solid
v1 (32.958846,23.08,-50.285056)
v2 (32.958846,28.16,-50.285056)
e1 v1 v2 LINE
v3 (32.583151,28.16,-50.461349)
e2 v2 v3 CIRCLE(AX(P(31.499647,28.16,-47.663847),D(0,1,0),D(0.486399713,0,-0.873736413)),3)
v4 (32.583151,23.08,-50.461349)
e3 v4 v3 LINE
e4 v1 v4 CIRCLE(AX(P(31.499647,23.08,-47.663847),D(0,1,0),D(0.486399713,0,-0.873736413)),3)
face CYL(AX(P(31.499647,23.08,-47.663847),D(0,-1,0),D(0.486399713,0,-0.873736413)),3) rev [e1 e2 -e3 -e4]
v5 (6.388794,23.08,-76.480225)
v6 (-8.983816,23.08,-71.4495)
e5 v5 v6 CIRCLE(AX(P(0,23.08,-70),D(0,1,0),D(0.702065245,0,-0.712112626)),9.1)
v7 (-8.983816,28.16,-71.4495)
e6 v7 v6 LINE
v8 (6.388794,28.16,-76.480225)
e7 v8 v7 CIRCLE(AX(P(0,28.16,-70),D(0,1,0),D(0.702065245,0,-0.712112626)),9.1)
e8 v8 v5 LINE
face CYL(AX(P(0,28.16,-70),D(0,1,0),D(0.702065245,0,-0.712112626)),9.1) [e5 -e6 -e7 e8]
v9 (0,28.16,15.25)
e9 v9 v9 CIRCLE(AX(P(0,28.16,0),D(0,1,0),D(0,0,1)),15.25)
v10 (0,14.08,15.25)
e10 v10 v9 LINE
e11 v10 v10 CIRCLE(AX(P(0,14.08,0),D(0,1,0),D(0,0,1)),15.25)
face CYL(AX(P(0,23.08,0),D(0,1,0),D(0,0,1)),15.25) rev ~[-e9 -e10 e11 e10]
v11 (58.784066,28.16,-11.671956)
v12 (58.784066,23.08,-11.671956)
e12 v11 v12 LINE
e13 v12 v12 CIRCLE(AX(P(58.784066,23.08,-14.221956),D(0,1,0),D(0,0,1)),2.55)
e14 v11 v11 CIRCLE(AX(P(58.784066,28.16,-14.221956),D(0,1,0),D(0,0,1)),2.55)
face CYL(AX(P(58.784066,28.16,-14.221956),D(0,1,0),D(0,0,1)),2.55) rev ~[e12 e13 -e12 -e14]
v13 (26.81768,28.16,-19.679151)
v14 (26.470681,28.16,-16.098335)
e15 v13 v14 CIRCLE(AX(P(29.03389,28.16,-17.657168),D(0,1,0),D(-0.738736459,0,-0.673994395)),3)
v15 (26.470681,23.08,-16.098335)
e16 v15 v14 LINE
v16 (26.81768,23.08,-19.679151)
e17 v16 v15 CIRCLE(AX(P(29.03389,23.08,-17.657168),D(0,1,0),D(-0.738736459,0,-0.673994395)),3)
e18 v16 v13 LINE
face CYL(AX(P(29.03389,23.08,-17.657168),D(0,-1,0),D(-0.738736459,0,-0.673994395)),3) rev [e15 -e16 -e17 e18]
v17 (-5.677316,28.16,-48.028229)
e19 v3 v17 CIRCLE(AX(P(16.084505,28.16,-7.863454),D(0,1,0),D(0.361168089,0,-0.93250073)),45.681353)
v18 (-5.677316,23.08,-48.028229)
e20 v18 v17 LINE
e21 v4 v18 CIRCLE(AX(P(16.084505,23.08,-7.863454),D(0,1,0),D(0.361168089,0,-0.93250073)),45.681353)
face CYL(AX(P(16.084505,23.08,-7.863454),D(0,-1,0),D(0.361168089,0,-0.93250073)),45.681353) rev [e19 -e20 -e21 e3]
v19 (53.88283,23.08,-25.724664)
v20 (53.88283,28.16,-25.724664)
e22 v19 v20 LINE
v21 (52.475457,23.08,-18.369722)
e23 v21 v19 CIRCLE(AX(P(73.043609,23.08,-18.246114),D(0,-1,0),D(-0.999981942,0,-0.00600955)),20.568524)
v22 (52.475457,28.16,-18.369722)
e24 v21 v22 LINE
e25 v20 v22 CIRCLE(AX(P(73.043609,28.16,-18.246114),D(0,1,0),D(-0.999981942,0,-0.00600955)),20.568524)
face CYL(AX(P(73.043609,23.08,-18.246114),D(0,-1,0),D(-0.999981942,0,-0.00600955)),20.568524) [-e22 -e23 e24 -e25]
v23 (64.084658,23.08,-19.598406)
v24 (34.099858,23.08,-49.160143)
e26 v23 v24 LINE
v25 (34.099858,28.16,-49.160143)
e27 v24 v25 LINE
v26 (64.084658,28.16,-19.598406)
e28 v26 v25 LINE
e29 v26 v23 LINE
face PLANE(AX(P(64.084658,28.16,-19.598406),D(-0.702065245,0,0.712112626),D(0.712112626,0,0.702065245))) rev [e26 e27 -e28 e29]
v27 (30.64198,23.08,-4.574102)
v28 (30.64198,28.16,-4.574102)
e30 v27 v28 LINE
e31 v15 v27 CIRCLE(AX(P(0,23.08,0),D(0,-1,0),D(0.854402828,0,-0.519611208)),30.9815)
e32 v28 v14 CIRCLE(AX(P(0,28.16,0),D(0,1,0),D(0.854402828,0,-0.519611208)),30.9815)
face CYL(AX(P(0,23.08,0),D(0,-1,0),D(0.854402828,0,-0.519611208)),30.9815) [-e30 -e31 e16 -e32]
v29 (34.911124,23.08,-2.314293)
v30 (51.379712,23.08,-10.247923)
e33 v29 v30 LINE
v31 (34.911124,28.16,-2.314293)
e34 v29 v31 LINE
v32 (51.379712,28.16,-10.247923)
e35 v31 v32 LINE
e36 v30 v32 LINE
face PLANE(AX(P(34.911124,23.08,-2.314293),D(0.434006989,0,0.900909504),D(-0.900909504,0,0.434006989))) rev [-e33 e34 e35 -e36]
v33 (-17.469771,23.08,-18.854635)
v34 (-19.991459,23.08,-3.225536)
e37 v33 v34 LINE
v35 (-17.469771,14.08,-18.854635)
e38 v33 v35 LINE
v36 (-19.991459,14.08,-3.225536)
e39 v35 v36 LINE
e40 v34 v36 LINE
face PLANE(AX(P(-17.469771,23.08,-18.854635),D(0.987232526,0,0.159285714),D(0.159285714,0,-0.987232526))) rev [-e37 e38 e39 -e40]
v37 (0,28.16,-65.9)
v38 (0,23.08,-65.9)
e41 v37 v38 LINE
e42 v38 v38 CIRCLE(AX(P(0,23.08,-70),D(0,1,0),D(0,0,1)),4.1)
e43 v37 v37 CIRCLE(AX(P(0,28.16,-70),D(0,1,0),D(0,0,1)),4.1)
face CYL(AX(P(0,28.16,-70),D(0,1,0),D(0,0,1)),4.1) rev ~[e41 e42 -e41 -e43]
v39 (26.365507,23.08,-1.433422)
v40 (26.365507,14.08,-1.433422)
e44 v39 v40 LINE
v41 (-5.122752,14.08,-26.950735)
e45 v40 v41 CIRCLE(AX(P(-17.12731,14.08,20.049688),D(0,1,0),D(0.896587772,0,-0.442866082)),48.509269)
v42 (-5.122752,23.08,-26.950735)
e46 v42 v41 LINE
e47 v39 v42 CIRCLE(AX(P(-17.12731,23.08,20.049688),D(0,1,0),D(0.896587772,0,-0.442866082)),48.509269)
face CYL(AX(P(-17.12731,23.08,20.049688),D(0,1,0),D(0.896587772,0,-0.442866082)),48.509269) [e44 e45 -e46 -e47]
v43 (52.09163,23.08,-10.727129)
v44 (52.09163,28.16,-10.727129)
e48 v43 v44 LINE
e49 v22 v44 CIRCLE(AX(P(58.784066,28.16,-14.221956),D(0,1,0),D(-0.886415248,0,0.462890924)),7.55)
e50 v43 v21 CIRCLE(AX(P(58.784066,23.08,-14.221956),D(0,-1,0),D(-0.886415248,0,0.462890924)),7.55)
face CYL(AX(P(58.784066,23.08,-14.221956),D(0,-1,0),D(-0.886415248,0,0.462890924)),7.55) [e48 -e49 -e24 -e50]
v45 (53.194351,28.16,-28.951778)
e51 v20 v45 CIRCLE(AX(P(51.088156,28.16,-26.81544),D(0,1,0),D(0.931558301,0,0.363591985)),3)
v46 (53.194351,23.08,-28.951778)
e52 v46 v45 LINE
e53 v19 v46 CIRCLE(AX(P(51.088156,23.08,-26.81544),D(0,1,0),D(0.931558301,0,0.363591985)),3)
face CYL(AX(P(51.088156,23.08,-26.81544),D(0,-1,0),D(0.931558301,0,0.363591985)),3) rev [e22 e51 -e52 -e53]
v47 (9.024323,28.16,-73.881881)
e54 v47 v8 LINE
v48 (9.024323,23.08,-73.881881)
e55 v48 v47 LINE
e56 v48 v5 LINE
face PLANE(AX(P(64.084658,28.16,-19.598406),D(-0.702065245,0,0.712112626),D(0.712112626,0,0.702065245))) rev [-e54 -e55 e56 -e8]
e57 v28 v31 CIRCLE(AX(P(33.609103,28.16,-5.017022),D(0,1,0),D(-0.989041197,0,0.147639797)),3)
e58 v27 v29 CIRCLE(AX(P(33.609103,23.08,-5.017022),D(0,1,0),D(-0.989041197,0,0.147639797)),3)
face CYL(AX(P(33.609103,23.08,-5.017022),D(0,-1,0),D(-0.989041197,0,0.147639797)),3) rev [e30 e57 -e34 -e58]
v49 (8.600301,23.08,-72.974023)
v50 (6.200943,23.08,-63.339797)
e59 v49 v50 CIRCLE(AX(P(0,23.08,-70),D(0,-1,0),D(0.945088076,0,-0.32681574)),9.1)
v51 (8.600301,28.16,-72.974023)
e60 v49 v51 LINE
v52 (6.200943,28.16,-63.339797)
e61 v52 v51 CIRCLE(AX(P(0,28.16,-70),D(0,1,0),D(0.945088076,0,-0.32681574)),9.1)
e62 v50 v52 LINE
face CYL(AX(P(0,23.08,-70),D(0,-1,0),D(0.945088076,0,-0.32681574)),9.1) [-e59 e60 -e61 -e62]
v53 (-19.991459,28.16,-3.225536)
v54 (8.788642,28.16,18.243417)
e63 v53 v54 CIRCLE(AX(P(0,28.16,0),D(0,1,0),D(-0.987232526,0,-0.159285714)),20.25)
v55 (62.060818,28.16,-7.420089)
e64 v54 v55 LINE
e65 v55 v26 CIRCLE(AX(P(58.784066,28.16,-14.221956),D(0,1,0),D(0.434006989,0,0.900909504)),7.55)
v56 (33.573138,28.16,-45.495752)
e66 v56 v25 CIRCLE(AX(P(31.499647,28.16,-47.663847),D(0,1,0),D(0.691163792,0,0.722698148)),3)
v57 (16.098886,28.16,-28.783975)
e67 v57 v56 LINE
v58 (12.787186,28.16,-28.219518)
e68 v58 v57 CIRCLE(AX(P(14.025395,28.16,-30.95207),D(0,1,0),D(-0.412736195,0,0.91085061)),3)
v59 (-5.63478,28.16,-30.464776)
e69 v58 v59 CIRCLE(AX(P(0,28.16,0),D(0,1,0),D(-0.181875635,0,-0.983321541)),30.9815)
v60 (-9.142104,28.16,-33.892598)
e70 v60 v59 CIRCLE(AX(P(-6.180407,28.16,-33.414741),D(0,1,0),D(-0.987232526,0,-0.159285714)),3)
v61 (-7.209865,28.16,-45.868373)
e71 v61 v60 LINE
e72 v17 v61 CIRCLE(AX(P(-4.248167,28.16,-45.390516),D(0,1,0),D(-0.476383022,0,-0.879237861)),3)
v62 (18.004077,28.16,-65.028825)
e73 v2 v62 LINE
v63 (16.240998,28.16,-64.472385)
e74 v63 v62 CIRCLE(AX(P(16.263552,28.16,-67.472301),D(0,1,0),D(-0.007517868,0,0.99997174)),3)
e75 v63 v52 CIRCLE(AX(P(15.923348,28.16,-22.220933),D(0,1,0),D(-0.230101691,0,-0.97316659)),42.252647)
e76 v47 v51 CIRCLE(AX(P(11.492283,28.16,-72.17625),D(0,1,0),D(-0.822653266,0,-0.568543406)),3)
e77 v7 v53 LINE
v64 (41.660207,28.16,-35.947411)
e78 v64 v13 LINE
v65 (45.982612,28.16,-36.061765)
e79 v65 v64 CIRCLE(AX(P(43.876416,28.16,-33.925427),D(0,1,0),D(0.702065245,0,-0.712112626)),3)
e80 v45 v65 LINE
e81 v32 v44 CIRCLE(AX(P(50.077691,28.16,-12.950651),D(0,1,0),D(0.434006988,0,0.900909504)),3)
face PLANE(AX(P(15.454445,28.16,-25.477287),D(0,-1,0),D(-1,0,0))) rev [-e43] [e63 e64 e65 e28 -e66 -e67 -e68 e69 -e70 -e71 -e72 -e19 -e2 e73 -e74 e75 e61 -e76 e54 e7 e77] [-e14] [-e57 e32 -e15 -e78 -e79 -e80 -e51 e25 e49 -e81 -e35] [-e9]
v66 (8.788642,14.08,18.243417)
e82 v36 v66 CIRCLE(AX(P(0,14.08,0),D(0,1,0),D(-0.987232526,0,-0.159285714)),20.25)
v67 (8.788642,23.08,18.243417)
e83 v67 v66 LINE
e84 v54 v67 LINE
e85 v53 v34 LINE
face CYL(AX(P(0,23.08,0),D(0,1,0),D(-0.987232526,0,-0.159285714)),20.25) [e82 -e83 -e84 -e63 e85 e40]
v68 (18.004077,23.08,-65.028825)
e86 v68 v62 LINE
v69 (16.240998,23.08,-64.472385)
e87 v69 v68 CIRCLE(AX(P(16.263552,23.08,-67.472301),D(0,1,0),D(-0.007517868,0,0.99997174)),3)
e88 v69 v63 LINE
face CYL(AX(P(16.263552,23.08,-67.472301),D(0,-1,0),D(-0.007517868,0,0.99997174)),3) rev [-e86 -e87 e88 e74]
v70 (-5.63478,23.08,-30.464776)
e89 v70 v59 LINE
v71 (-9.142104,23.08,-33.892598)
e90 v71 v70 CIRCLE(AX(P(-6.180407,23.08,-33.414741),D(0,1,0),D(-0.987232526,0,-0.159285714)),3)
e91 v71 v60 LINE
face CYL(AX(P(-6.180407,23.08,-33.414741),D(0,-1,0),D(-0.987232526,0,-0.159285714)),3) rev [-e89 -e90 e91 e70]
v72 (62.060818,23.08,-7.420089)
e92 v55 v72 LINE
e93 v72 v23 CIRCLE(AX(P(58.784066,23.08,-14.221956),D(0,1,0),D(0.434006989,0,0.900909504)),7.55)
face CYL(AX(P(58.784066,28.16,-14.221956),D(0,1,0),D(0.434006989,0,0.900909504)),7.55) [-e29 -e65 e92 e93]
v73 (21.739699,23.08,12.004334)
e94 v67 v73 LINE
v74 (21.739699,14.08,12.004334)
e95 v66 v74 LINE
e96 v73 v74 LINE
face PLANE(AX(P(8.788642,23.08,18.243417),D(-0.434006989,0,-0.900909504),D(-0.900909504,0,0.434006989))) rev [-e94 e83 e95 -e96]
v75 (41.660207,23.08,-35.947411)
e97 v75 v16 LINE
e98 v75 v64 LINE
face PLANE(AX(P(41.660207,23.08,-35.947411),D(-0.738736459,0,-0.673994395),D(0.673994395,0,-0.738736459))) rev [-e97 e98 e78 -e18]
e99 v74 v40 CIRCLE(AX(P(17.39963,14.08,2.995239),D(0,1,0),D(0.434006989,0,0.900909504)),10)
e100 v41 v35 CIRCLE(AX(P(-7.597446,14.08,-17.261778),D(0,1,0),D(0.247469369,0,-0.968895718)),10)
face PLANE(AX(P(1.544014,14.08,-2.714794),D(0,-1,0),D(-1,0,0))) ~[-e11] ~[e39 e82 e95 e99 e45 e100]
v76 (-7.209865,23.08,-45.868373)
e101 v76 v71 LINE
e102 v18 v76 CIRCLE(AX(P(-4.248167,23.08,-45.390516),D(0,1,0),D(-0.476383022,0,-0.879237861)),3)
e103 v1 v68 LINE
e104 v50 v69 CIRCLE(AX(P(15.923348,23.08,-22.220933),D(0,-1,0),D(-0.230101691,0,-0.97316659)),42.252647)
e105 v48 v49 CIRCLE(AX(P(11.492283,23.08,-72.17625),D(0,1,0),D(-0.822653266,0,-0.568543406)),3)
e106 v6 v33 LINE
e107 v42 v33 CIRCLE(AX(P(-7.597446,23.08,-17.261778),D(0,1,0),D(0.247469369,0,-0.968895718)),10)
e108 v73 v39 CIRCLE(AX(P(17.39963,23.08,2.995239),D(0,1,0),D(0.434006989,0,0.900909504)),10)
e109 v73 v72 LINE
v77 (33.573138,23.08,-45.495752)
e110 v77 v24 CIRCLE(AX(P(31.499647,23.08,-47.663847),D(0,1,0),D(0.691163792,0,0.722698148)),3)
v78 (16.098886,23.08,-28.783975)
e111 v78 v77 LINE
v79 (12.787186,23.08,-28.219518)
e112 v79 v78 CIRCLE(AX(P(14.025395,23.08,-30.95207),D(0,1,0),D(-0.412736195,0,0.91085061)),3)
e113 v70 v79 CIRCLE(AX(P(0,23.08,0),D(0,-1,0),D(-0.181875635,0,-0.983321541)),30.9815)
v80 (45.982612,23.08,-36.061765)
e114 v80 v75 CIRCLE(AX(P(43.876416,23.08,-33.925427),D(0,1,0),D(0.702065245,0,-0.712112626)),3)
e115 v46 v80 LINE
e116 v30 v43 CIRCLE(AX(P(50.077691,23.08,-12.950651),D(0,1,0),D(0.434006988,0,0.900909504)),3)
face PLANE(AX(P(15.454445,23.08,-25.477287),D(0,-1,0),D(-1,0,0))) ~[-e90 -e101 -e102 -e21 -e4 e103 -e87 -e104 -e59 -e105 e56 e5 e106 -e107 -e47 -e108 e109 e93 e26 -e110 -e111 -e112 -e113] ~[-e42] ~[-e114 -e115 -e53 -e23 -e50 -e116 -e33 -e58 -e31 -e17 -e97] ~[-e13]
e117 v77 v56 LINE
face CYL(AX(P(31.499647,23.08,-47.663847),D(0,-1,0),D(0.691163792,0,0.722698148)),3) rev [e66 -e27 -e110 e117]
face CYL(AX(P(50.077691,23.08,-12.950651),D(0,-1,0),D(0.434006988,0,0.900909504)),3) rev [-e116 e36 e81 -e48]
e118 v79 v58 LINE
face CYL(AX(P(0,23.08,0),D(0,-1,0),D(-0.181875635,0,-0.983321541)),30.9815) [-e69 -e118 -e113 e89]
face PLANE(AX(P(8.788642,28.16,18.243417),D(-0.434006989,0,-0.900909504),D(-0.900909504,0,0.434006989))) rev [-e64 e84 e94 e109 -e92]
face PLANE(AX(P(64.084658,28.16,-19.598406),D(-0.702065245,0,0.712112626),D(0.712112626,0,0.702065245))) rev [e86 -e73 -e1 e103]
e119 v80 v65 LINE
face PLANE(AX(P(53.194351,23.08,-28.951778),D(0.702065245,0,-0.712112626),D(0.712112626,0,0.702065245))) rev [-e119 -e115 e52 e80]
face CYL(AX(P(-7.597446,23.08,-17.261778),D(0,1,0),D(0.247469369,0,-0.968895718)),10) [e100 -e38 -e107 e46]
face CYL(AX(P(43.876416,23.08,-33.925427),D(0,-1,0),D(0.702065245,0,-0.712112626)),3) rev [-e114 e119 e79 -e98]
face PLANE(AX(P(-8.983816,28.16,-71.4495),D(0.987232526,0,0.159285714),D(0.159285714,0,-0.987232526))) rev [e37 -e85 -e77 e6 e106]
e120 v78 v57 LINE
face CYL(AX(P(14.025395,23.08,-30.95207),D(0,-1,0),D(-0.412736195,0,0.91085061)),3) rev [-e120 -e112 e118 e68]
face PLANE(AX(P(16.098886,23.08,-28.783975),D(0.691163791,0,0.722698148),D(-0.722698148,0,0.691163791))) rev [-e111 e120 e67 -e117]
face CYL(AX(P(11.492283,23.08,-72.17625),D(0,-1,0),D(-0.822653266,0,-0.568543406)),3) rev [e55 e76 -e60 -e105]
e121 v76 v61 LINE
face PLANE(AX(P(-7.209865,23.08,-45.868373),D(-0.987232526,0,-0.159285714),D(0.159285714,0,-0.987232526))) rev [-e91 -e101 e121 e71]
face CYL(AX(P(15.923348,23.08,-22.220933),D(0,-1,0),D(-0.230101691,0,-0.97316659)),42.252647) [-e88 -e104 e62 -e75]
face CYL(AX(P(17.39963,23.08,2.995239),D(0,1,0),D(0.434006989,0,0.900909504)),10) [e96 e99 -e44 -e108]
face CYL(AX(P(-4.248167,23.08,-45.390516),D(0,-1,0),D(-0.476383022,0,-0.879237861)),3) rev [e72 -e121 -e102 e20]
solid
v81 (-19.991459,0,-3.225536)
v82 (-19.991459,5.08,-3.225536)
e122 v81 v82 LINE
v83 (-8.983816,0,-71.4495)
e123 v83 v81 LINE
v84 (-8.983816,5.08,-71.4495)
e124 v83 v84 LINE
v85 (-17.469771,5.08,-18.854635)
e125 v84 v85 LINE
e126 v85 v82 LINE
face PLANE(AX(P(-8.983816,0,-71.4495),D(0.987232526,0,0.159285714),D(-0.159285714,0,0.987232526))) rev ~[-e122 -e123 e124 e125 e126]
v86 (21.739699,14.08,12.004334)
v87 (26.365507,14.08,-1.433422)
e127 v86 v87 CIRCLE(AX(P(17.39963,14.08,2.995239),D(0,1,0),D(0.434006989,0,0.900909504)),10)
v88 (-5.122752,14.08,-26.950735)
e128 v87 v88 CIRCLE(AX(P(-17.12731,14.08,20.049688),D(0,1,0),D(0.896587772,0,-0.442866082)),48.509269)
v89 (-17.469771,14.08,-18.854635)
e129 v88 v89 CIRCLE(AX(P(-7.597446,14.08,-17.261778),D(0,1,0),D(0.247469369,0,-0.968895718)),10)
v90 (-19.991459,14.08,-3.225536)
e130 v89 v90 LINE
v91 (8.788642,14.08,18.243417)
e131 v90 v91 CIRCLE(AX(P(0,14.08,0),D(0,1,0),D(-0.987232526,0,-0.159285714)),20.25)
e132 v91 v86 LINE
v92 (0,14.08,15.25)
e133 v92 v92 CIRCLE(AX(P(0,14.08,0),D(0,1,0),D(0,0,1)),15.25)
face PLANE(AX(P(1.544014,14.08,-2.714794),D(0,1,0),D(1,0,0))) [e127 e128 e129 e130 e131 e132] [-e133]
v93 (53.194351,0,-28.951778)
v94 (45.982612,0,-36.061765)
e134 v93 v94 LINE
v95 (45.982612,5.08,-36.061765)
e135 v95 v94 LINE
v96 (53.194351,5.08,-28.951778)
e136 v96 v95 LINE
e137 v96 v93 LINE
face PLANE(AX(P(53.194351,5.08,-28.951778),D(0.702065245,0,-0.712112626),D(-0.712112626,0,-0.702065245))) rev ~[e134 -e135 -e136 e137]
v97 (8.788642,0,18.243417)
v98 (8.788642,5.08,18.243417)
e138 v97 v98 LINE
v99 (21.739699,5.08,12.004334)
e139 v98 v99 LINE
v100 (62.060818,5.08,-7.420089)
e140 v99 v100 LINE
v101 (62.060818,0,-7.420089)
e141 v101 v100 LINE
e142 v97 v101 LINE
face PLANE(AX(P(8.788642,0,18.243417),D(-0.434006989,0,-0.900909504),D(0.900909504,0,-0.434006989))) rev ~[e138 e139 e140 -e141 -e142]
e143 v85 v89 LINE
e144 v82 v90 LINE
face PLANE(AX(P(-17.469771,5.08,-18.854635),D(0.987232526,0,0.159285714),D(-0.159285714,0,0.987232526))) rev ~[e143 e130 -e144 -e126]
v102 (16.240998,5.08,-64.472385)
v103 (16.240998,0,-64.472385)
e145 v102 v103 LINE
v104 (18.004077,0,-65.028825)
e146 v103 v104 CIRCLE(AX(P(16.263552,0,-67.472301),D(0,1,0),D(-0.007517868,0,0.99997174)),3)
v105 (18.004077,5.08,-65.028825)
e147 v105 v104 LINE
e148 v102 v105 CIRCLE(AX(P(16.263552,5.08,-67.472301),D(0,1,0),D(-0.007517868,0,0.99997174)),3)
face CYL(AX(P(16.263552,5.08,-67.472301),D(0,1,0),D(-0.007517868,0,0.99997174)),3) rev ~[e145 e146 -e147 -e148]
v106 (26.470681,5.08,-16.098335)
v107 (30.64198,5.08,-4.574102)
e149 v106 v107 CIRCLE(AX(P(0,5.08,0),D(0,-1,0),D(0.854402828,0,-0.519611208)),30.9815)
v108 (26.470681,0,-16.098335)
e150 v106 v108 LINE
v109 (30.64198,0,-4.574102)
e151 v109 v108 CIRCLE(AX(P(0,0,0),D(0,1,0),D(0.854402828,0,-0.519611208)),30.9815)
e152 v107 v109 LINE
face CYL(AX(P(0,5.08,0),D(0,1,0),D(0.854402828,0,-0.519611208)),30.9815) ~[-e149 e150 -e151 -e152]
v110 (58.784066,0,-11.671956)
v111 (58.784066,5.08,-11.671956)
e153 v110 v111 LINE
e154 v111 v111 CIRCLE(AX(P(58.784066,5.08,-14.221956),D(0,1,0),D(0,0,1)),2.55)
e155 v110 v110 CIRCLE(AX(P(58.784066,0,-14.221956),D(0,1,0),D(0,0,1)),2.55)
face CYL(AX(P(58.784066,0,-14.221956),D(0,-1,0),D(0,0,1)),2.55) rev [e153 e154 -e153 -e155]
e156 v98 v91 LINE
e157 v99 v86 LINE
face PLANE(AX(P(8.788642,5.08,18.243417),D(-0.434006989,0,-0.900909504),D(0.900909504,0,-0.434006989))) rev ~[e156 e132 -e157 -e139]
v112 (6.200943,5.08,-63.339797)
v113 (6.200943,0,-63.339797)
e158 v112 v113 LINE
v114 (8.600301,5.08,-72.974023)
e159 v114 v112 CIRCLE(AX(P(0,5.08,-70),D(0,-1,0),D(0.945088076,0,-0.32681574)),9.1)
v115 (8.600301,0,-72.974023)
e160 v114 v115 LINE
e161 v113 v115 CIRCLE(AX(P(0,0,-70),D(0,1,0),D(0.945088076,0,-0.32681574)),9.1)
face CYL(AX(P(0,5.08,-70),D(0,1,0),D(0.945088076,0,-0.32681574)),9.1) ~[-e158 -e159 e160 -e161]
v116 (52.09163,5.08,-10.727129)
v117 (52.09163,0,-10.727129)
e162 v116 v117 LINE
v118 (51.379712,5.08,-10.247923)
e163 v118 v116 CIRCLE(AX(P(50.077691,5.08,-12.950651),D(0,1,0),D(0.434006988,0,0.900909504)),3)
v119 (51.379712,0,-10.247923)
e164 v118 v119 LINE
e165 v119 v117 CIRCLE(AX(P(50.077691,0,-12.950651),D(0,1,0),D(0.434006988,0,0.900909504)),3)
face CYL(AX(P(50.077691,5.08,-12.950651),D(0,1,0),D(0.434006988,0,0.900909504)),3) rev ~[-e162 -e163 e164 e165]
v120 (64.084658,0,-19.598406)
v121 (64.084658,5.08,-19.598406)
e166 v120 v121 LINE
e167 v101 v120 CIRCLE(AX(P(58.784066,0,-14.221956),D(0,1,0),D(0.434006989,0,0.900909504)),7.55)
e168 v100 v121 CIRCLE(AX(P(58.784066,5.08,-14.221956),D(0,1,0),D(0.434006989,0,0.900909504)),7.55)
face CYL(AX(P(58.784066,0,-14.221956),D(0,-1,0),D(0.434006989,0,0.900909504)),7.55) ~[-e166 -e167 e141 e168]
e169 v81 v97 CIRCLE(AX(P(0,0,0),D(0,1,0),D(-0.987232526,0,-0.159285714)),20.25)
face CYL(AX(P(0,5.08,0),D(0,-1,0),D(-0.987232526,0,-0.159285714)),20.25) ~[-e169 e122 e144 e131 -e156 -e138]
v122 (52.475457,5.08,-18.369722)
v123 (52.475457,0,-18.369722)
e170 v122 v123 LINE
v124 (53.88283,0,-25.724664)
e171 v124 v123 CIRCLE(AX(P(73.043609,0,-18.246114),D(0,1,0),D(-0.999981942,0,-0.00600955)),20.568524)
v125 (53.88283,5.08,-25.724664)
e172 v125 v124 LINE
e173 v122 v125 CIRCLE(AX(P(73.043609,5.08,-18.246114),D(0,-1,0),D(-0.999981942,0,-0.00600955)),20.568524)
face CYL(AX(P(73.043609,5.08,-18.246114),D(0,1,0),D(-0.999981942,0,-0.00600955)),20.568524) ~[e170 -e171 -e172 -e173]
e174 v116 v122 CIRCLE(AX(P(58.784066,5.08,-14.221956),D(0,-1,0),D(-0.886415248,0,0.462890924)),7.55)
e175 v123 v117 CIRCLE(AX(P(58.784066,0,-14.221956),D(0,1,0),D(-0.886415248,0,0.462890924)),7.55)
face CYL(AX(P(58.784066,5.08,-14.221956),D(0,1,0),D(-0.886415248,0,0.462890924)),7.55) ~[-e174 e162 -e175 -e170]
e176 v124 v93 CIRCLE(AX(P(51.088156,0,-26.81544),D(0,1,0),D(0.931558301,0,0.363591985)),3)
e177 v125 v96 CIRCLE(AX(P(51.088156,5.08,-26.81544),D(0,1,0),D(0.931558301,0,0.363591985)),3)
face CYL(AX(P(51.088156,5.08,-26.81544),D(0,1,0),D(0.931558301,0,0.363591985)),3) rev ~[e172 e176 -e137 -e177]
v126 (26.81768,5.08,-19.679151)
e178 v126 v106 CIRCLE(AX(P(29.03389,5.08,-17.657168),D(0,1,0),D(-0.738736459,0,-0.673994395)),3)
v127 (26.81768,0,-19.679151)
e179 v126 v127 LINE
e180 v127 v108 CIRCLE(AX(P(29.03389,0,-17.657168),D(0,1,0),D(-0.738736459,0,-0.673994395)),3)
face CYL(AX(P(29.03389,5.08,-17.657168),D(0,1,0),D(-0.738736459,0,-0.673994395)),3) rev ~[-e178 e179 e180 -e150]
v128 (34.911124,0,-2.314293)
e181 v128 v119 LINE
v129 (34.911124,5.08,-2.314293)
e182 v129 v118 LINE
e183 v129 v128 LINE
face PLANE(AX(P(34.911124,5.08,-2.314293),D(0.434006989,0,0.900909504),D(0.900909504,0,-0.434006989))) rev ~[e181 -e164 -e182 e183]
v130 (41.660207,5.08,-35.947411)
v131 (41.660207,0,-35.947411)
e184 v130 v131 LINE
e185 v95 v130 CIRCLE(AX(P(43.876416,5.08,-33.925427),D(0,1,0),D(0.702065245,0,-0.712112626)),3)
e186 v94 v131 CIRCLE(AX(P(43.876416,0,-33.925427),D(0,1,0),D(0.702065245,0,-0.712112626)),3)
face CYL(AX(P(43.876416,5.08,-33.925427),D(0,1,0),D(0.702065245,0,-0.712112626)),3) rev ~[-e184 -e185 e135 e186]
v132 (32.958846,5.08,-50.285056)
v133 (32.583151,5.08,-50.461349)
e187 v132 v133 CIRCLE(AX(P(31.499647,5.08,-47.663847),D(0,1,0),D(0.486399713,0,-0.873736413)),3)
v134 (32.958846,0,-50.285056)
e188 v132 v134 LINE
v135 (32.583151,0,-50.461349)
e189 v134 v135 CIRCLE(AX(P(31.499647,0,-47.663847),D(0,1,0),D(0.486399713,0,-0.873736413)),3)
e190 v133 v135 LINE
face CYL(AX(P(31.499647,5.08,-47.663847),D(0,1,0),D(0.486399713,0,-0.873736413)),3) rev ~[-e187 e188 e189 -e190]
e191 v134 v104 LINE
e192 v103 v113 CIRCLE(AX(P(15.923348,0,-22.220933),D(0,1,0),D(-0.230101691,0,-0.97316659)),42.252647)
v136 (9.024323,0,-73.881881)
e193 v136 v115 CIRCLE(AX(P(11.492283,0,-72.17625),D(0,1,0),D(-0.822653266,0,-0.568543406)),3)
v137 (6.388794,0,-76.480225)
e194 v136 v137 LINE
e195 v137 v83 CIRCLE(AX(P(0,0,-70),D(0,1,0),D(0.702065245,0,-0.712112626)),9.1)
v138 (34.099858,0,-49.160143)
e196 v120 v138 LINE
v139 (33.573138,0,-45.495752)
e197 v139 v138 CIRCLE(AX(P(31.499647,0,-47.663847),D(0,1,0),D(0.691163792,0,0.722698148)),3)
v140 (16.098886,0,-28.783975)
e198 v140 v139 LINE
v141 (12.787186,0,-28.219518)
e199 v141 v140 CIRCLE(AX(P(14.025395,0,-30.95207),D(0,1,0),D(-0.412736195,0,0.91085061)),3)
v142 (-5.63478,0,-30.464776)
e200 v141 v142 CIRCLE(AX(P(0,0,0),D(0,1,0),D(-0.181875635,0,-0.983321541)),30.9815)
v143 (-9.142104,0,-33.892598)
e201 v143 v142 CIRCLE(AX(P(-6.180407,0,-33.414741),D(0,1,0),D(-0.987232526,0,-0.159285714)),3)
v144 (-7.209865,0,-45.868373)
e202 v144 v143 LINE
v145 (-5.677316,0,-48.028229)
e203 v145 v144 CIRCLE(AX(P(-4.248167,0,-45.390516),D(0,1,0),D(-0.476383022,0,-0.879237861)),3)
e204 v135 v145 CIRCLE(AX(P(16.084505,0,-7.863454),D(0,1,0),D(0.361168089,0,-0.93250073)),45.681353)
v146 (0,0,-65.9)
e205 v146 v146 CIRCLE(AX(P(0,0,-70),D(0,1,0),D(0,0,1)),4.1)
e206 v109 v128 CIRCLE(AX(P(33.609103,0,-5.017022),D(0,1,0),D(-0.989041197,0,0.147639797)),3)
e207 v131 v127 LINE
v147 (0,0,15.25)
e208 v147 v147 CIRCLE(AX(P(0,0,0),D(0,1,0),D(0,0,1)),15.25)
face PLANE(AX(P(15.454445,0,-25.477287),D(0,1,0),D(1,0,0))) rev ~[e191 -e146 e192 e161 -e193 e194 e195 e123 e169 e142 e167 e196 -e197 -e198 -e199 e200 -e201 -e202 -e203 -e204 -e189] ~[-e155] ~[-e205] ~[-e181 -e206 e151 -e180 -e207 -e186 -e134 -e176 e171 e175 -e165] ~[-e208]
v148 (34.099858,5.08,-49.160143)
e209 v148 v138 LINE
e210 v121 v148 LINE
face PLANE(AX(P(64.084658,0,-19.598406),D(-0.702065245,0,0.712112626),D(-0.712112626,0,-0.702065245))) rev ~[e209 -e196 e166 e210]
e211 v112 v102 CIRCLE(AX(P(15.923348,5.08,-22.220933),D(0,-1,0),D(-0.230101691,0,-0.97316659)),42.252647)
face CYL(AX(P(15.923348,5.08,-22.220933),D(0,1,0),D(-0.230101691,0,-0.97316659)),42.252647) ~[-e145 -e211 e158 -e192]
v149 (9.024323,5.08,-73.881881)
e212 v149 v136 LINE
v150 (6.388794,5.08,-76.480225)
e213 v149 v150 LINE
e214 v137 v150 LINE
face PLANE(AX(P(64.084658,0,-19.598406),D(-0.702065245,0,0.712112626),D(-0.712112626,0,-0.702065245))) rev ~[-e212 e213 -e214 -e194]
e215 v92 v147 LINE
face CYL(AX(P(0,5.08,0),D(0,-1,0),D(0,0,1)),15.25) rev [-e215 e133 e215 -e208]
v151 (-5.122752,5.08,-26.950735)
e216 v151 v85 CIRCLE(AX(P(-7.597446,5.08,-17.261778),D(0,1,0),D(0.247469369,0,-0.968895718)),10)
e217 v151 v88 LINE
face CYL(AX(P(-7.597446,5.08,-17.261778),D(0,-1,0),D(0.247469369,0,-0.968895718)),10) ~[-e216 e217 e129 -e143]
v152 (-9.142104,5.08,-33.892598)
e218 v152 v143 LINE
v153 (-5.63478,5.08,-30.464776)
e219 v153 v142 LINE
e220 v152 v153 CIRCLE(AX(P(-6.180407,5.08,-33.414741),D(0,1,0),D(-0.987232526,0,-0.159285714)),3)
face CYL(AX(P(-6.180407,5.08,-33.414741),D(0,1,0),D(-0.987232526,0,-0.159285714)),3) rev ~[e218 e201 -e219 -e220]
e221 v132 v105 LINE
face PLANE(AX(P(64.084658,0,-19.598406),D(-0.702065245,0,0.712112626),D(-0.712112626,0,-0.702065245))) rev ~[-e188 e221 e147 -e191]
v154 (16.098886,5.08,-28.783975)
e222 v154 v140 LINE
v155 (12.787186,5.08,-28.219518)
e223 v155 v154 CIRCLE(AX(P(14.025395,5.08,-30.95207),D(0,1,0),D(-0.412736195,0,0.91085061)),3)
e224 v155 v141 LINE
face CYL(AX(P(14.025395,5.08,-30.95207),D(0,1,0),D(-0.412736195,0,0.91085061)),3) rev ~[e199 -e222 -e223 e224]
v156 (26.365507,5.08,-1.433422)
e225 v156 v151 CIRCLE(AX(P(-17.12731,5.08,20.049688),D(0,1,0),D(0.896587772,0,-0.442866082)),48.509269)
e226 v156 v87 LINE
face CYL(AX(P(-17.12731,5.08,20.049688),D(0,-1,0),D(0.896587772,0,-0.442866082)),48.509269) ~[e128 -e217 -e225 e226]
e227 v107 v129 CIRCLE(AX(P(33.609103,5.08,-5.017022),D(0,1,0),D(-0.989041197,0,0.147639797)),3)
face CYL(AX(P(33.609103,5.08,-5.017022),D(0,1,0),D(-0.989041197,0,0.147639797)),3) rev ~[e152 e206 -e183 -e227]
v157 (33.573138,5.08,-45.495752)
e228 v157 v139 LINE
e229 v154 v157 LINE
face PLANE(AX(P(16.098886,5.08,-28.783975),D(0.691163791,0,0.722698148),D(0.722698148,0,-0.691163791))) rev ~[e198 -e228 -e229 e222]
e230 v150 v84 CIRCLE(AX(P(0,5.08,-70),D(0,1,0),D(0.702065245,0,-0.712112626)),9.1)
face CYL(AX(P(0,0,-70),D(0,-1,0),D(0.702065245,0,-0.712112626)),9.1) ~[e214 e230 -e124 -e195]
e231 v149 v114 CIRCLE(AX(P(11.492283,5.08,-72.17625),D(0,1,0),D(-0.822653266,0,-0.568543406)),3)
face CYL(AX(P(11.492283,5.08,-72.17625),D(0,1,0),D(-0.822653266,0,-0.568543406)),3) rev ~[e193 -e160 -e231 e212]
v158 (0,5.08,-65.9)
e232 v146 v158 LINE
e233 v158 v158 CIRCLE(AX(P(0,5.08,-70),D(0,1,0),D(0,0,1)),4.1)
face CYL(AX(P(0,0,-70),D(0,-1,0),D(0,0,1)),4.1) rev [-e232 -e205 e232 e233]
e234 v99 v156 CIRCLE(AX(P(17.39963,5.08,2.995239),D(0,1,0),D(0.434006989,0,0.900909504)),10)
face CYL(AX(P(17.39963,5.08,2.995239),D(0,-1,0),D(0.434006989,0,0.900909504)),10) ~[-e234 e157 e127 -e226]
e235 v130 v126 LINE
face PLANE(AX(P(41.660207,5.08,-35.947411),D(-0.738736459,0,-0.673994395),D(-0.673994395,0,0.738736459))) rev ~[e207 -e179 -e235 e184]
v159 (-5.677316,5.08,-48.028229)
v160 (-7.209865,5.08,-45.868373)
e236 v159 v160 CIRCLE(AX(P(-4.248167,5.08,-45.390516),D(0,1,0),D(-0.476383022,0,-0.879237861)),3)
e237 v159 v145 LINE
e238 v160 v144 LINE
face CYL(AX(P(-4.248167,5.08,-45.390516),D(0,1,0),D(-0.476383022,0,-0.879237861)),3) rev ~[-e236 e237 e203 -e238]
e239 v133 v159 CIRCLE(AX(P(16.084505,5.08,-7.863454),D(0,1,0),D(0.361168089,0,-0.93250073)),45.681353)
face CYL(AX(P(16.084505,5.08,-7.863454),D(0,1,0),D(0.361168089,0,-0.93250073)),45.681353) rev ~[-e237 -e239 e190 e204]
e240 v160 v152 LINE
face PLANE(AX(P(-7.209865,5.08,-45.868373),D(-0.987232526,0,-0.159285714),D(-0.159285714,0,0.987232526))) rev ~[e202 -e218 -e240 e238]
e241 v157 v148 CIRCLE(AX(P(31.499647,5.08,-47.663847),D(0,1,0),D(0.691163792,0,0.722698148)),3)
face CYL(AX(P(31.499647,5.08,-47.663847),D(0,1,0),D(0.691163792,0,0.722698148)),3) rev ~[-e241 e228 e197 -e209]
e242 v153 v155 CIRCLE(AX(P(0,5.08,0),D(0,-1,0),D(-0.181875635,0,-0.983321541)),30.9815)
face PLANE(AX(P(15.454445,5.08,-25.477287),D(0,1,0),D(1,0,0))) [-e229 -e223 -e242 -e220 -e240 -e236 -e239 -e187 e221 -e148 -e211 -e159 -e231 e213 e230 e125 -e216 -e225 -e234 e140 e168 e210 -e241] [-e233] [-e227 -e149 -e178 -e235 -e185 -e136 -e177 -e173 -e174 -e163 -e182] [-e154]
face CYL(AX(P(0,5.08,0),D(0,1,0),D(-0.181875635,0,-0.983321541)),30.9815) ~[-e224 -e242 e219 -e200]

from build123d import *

# Parameters (mm, degrees)
SKETCH1_R           = 15.25
SKETCH1_R_2         = 4.1
SKETCH1_R_3         = 2.55
BOSS_EXTRUDE1_DEPTH = 5.08
CUT_EXTRUDE1_DEPTH  = 104.357750841
SKETCH2_R           = 15.25
BOSS_EXTRUDE2_DEPTH = 9


with BuildPart() as part:
    # Sketch1 → Boss-Extrude1 (new body)
    with BuildSketch(Plane(origin=(0, 0, 0), x_dir=(1, 0, 0), z_dir=(0, 1, 0))):
        with BuildLine():
            ThreePointArc((6.388793728, 76.480224896), (-2.830297402, 78.648665598), (-8.98381599, 71.4495))
            Line((-8.98381599, 71.4495), (-19.99145866, 3.225535714))
            ThreePointArc((-19.99145866, 3.225535714), (-12.108045484, -16.231381166), (8.788641521, -18.243417449))
            Line((8.788641521, -18.243417449), (62.060818364, 7.420089218))
            ThreePointArc((62.060818364, 7.420089218), (66.231922008, 12.984242387), (64.084658197, 19.598406297))
            Line((64.084658197, 19.598406297), (6.388793728, 76.480224896))
        make_face()
        with Locations(Location((0, 0, 0), (0, 0, 270))):
            Circle(SKETCH1_R, mode=Mode.SUBTRACT)
        with Locations(Location((0, 70, 0), (0, 0, 270))):
            Circle(SKETCH1_R_2, mode=Mode.SUBTRACT)
        with Locations(Location((58.784065599, 14.221955971, 0), (0, 0, 270))):
            Circle(SKETCH1_R_3, mode=Mode.SUBTRACT)
    extrude(amount=BOSS_EXTRUDE1_DEPTH)

    # Sketch3 → Cut-Extrude1 (cut, through all)
    with BuildSketch(Plane(origin=(0, 5.08, 0), x_dir=(1, 0, 0), z_dir=(0, 1, 0))):
        with BuildLine():
            ThreePointArc((8.600301495, 72.974023234), (8.830276845, 67.800861343), (6.200943015, 63.33979687))
            ThreePointArc((6.200943015, 63.33979687), (11.186994823, 64.207277059), (16.240998391, 64.472385422))
            ThreePointArc((16.240998391, 64.472385422), (17.166470838, 64.611402608), (18.00407674, 65.028824916))
            Line((18.00407674, 65.028824916), (9.02432344, 73.881880555))
            ThreePointArc((9.02432344, 73.881880555), (8.77414149, 73.445779951), (8.600301495, 72.974023234))
        make_face()
        with BuildLine():
            Line((34.099858287, 49.160142912), (32.958846213, 50.285056151))
            ThreePointArc((32.958846213, 50.285056151), (32.774050848, 50.379706816), (32.58315136, 50.461349092))
            ThreePointArc((32.58315136, 50.461349092), (13.185320482, 53.452715312), (-5.677316258, 48.028229173))
            ThreePointArc((-5.677316258, 48.028229173), (-6.694823792, 47.126566129), (-7.209864768, 45.868372734))
            Line((-7.209864768, 45.868372734), (-9.14210444, 33.892597873))
            ThreePointArc((-9.14210444, 33.892597873), (-8.27727116, 31.269243094), (-5.634779955, 30.464776107))
            ThreePointArc((-5.634779955, 30.464776107), (3.748269643, 30.753923377), (12.787186342, 28.219517959))
            ThreePointArc((12.787186342, 28.219517959), (14.529455805, 27.994719178), (16.098886301, 28.783975343))
            Line((16.098886301, 28.783975343), (33.573138468, 45.495752457))
            ThreePointArc((33.573138468, 45.495752457), (34.469127397, 47.237013531), (34.099858287, 49.160142912))
        make_face()
        with BuildLine():
            ThreePointArc((51.379712462, 10.247922916), (51.752895163, 10.461938371), (52.091630475, 10.727129493))
            ThreePointArc((52.091630475, 10.727129493), (51.243569136, 14.600655176), (52.47545713, 18.369721535))
            ThreePointArc((52.47545713, 18.369721535), (52.841609732, 22.111780263), (53.882830405, 25.724664257))
            ThreePointArc((53.882830405, 25.724664257), (54.022128776, 27.441380165), (53.194351236, 28.951778089))
            Line((53.194351236, 28.951778089), (45.982611804, 36.061765224))
            ThreePointArc((45.982611804, 36.061765224), (43.797075038, 36.924377996), (41.660206693, 35.947410531))
            Line((41.660206693, 35.947410531), (26.817680132, 19.679151335))
            ThreePointArc((26.817680132, 19.679151335), (26.047876945, 17.946527743), (26.470681024, 16.098334526))
            ThreePointArc((26.470681024, 16.098334526), (29.131872304, 10.544540978), (30.64197964, 4.574102331))
            ThreePointArc((30.64197964, 4.574102331), (32.205598333, 2.365574193), (34.911124199, 2.31429321))
            Line((34.911124199, 2.31429321), (51.379712462, 10.247922916))
        make_face()
    extrude(amount=-CUT_EXTRUDE1_DEPTH, mode=Mode.SUBTRACT)

    # Sketch2 → Boss-Extrude2 (add)
    with BuildSketch(Plane(origin=(0, 5.08, 0), x_dir=(1, 0, 0), z_dir=(0, 1, 0))):
        with BuildLine():
            Line((8.788641521, -18.243417449), (21.739699458, -12.004333908))
            ThreePointArc((21.739699458, -12.004333908), (26.855071446, -6.250176498), (26.365507295, 1.433421945))
            ThreePointArc((26.365507295, 1.433421945), (13.414022408, 17.638190532), (-5.122751892, 26.950734989))
            ThreePointArc((-5.122751892, 26.950734989), (-13.080870345, 25.624316472), (-17.469770841, 18.854634956))
            Line((-17.469770841, 18.854634956), (-19.99145866, 3.225535714))
            ThreePointArc((-19.99145866, 3.225535714), (-12.108045484, -16.231381166), (8.788641521, -18.243417449))
        make_face()
        with Locations(Location((0, 0, 0), (0, 0, 270))):
            Circle(SKETCH2_R, mode=Mode.SUBTRACT)
    extrude(amount=BOSS_EXTRUDE2_DEPTH)


with BuildPart() as body_2:
    # Mirror1: mirrored copy
    add(part.part.mirror(Plane.ZX.offset(14.08)))


solid = Compound([part.part, body_2.part])
